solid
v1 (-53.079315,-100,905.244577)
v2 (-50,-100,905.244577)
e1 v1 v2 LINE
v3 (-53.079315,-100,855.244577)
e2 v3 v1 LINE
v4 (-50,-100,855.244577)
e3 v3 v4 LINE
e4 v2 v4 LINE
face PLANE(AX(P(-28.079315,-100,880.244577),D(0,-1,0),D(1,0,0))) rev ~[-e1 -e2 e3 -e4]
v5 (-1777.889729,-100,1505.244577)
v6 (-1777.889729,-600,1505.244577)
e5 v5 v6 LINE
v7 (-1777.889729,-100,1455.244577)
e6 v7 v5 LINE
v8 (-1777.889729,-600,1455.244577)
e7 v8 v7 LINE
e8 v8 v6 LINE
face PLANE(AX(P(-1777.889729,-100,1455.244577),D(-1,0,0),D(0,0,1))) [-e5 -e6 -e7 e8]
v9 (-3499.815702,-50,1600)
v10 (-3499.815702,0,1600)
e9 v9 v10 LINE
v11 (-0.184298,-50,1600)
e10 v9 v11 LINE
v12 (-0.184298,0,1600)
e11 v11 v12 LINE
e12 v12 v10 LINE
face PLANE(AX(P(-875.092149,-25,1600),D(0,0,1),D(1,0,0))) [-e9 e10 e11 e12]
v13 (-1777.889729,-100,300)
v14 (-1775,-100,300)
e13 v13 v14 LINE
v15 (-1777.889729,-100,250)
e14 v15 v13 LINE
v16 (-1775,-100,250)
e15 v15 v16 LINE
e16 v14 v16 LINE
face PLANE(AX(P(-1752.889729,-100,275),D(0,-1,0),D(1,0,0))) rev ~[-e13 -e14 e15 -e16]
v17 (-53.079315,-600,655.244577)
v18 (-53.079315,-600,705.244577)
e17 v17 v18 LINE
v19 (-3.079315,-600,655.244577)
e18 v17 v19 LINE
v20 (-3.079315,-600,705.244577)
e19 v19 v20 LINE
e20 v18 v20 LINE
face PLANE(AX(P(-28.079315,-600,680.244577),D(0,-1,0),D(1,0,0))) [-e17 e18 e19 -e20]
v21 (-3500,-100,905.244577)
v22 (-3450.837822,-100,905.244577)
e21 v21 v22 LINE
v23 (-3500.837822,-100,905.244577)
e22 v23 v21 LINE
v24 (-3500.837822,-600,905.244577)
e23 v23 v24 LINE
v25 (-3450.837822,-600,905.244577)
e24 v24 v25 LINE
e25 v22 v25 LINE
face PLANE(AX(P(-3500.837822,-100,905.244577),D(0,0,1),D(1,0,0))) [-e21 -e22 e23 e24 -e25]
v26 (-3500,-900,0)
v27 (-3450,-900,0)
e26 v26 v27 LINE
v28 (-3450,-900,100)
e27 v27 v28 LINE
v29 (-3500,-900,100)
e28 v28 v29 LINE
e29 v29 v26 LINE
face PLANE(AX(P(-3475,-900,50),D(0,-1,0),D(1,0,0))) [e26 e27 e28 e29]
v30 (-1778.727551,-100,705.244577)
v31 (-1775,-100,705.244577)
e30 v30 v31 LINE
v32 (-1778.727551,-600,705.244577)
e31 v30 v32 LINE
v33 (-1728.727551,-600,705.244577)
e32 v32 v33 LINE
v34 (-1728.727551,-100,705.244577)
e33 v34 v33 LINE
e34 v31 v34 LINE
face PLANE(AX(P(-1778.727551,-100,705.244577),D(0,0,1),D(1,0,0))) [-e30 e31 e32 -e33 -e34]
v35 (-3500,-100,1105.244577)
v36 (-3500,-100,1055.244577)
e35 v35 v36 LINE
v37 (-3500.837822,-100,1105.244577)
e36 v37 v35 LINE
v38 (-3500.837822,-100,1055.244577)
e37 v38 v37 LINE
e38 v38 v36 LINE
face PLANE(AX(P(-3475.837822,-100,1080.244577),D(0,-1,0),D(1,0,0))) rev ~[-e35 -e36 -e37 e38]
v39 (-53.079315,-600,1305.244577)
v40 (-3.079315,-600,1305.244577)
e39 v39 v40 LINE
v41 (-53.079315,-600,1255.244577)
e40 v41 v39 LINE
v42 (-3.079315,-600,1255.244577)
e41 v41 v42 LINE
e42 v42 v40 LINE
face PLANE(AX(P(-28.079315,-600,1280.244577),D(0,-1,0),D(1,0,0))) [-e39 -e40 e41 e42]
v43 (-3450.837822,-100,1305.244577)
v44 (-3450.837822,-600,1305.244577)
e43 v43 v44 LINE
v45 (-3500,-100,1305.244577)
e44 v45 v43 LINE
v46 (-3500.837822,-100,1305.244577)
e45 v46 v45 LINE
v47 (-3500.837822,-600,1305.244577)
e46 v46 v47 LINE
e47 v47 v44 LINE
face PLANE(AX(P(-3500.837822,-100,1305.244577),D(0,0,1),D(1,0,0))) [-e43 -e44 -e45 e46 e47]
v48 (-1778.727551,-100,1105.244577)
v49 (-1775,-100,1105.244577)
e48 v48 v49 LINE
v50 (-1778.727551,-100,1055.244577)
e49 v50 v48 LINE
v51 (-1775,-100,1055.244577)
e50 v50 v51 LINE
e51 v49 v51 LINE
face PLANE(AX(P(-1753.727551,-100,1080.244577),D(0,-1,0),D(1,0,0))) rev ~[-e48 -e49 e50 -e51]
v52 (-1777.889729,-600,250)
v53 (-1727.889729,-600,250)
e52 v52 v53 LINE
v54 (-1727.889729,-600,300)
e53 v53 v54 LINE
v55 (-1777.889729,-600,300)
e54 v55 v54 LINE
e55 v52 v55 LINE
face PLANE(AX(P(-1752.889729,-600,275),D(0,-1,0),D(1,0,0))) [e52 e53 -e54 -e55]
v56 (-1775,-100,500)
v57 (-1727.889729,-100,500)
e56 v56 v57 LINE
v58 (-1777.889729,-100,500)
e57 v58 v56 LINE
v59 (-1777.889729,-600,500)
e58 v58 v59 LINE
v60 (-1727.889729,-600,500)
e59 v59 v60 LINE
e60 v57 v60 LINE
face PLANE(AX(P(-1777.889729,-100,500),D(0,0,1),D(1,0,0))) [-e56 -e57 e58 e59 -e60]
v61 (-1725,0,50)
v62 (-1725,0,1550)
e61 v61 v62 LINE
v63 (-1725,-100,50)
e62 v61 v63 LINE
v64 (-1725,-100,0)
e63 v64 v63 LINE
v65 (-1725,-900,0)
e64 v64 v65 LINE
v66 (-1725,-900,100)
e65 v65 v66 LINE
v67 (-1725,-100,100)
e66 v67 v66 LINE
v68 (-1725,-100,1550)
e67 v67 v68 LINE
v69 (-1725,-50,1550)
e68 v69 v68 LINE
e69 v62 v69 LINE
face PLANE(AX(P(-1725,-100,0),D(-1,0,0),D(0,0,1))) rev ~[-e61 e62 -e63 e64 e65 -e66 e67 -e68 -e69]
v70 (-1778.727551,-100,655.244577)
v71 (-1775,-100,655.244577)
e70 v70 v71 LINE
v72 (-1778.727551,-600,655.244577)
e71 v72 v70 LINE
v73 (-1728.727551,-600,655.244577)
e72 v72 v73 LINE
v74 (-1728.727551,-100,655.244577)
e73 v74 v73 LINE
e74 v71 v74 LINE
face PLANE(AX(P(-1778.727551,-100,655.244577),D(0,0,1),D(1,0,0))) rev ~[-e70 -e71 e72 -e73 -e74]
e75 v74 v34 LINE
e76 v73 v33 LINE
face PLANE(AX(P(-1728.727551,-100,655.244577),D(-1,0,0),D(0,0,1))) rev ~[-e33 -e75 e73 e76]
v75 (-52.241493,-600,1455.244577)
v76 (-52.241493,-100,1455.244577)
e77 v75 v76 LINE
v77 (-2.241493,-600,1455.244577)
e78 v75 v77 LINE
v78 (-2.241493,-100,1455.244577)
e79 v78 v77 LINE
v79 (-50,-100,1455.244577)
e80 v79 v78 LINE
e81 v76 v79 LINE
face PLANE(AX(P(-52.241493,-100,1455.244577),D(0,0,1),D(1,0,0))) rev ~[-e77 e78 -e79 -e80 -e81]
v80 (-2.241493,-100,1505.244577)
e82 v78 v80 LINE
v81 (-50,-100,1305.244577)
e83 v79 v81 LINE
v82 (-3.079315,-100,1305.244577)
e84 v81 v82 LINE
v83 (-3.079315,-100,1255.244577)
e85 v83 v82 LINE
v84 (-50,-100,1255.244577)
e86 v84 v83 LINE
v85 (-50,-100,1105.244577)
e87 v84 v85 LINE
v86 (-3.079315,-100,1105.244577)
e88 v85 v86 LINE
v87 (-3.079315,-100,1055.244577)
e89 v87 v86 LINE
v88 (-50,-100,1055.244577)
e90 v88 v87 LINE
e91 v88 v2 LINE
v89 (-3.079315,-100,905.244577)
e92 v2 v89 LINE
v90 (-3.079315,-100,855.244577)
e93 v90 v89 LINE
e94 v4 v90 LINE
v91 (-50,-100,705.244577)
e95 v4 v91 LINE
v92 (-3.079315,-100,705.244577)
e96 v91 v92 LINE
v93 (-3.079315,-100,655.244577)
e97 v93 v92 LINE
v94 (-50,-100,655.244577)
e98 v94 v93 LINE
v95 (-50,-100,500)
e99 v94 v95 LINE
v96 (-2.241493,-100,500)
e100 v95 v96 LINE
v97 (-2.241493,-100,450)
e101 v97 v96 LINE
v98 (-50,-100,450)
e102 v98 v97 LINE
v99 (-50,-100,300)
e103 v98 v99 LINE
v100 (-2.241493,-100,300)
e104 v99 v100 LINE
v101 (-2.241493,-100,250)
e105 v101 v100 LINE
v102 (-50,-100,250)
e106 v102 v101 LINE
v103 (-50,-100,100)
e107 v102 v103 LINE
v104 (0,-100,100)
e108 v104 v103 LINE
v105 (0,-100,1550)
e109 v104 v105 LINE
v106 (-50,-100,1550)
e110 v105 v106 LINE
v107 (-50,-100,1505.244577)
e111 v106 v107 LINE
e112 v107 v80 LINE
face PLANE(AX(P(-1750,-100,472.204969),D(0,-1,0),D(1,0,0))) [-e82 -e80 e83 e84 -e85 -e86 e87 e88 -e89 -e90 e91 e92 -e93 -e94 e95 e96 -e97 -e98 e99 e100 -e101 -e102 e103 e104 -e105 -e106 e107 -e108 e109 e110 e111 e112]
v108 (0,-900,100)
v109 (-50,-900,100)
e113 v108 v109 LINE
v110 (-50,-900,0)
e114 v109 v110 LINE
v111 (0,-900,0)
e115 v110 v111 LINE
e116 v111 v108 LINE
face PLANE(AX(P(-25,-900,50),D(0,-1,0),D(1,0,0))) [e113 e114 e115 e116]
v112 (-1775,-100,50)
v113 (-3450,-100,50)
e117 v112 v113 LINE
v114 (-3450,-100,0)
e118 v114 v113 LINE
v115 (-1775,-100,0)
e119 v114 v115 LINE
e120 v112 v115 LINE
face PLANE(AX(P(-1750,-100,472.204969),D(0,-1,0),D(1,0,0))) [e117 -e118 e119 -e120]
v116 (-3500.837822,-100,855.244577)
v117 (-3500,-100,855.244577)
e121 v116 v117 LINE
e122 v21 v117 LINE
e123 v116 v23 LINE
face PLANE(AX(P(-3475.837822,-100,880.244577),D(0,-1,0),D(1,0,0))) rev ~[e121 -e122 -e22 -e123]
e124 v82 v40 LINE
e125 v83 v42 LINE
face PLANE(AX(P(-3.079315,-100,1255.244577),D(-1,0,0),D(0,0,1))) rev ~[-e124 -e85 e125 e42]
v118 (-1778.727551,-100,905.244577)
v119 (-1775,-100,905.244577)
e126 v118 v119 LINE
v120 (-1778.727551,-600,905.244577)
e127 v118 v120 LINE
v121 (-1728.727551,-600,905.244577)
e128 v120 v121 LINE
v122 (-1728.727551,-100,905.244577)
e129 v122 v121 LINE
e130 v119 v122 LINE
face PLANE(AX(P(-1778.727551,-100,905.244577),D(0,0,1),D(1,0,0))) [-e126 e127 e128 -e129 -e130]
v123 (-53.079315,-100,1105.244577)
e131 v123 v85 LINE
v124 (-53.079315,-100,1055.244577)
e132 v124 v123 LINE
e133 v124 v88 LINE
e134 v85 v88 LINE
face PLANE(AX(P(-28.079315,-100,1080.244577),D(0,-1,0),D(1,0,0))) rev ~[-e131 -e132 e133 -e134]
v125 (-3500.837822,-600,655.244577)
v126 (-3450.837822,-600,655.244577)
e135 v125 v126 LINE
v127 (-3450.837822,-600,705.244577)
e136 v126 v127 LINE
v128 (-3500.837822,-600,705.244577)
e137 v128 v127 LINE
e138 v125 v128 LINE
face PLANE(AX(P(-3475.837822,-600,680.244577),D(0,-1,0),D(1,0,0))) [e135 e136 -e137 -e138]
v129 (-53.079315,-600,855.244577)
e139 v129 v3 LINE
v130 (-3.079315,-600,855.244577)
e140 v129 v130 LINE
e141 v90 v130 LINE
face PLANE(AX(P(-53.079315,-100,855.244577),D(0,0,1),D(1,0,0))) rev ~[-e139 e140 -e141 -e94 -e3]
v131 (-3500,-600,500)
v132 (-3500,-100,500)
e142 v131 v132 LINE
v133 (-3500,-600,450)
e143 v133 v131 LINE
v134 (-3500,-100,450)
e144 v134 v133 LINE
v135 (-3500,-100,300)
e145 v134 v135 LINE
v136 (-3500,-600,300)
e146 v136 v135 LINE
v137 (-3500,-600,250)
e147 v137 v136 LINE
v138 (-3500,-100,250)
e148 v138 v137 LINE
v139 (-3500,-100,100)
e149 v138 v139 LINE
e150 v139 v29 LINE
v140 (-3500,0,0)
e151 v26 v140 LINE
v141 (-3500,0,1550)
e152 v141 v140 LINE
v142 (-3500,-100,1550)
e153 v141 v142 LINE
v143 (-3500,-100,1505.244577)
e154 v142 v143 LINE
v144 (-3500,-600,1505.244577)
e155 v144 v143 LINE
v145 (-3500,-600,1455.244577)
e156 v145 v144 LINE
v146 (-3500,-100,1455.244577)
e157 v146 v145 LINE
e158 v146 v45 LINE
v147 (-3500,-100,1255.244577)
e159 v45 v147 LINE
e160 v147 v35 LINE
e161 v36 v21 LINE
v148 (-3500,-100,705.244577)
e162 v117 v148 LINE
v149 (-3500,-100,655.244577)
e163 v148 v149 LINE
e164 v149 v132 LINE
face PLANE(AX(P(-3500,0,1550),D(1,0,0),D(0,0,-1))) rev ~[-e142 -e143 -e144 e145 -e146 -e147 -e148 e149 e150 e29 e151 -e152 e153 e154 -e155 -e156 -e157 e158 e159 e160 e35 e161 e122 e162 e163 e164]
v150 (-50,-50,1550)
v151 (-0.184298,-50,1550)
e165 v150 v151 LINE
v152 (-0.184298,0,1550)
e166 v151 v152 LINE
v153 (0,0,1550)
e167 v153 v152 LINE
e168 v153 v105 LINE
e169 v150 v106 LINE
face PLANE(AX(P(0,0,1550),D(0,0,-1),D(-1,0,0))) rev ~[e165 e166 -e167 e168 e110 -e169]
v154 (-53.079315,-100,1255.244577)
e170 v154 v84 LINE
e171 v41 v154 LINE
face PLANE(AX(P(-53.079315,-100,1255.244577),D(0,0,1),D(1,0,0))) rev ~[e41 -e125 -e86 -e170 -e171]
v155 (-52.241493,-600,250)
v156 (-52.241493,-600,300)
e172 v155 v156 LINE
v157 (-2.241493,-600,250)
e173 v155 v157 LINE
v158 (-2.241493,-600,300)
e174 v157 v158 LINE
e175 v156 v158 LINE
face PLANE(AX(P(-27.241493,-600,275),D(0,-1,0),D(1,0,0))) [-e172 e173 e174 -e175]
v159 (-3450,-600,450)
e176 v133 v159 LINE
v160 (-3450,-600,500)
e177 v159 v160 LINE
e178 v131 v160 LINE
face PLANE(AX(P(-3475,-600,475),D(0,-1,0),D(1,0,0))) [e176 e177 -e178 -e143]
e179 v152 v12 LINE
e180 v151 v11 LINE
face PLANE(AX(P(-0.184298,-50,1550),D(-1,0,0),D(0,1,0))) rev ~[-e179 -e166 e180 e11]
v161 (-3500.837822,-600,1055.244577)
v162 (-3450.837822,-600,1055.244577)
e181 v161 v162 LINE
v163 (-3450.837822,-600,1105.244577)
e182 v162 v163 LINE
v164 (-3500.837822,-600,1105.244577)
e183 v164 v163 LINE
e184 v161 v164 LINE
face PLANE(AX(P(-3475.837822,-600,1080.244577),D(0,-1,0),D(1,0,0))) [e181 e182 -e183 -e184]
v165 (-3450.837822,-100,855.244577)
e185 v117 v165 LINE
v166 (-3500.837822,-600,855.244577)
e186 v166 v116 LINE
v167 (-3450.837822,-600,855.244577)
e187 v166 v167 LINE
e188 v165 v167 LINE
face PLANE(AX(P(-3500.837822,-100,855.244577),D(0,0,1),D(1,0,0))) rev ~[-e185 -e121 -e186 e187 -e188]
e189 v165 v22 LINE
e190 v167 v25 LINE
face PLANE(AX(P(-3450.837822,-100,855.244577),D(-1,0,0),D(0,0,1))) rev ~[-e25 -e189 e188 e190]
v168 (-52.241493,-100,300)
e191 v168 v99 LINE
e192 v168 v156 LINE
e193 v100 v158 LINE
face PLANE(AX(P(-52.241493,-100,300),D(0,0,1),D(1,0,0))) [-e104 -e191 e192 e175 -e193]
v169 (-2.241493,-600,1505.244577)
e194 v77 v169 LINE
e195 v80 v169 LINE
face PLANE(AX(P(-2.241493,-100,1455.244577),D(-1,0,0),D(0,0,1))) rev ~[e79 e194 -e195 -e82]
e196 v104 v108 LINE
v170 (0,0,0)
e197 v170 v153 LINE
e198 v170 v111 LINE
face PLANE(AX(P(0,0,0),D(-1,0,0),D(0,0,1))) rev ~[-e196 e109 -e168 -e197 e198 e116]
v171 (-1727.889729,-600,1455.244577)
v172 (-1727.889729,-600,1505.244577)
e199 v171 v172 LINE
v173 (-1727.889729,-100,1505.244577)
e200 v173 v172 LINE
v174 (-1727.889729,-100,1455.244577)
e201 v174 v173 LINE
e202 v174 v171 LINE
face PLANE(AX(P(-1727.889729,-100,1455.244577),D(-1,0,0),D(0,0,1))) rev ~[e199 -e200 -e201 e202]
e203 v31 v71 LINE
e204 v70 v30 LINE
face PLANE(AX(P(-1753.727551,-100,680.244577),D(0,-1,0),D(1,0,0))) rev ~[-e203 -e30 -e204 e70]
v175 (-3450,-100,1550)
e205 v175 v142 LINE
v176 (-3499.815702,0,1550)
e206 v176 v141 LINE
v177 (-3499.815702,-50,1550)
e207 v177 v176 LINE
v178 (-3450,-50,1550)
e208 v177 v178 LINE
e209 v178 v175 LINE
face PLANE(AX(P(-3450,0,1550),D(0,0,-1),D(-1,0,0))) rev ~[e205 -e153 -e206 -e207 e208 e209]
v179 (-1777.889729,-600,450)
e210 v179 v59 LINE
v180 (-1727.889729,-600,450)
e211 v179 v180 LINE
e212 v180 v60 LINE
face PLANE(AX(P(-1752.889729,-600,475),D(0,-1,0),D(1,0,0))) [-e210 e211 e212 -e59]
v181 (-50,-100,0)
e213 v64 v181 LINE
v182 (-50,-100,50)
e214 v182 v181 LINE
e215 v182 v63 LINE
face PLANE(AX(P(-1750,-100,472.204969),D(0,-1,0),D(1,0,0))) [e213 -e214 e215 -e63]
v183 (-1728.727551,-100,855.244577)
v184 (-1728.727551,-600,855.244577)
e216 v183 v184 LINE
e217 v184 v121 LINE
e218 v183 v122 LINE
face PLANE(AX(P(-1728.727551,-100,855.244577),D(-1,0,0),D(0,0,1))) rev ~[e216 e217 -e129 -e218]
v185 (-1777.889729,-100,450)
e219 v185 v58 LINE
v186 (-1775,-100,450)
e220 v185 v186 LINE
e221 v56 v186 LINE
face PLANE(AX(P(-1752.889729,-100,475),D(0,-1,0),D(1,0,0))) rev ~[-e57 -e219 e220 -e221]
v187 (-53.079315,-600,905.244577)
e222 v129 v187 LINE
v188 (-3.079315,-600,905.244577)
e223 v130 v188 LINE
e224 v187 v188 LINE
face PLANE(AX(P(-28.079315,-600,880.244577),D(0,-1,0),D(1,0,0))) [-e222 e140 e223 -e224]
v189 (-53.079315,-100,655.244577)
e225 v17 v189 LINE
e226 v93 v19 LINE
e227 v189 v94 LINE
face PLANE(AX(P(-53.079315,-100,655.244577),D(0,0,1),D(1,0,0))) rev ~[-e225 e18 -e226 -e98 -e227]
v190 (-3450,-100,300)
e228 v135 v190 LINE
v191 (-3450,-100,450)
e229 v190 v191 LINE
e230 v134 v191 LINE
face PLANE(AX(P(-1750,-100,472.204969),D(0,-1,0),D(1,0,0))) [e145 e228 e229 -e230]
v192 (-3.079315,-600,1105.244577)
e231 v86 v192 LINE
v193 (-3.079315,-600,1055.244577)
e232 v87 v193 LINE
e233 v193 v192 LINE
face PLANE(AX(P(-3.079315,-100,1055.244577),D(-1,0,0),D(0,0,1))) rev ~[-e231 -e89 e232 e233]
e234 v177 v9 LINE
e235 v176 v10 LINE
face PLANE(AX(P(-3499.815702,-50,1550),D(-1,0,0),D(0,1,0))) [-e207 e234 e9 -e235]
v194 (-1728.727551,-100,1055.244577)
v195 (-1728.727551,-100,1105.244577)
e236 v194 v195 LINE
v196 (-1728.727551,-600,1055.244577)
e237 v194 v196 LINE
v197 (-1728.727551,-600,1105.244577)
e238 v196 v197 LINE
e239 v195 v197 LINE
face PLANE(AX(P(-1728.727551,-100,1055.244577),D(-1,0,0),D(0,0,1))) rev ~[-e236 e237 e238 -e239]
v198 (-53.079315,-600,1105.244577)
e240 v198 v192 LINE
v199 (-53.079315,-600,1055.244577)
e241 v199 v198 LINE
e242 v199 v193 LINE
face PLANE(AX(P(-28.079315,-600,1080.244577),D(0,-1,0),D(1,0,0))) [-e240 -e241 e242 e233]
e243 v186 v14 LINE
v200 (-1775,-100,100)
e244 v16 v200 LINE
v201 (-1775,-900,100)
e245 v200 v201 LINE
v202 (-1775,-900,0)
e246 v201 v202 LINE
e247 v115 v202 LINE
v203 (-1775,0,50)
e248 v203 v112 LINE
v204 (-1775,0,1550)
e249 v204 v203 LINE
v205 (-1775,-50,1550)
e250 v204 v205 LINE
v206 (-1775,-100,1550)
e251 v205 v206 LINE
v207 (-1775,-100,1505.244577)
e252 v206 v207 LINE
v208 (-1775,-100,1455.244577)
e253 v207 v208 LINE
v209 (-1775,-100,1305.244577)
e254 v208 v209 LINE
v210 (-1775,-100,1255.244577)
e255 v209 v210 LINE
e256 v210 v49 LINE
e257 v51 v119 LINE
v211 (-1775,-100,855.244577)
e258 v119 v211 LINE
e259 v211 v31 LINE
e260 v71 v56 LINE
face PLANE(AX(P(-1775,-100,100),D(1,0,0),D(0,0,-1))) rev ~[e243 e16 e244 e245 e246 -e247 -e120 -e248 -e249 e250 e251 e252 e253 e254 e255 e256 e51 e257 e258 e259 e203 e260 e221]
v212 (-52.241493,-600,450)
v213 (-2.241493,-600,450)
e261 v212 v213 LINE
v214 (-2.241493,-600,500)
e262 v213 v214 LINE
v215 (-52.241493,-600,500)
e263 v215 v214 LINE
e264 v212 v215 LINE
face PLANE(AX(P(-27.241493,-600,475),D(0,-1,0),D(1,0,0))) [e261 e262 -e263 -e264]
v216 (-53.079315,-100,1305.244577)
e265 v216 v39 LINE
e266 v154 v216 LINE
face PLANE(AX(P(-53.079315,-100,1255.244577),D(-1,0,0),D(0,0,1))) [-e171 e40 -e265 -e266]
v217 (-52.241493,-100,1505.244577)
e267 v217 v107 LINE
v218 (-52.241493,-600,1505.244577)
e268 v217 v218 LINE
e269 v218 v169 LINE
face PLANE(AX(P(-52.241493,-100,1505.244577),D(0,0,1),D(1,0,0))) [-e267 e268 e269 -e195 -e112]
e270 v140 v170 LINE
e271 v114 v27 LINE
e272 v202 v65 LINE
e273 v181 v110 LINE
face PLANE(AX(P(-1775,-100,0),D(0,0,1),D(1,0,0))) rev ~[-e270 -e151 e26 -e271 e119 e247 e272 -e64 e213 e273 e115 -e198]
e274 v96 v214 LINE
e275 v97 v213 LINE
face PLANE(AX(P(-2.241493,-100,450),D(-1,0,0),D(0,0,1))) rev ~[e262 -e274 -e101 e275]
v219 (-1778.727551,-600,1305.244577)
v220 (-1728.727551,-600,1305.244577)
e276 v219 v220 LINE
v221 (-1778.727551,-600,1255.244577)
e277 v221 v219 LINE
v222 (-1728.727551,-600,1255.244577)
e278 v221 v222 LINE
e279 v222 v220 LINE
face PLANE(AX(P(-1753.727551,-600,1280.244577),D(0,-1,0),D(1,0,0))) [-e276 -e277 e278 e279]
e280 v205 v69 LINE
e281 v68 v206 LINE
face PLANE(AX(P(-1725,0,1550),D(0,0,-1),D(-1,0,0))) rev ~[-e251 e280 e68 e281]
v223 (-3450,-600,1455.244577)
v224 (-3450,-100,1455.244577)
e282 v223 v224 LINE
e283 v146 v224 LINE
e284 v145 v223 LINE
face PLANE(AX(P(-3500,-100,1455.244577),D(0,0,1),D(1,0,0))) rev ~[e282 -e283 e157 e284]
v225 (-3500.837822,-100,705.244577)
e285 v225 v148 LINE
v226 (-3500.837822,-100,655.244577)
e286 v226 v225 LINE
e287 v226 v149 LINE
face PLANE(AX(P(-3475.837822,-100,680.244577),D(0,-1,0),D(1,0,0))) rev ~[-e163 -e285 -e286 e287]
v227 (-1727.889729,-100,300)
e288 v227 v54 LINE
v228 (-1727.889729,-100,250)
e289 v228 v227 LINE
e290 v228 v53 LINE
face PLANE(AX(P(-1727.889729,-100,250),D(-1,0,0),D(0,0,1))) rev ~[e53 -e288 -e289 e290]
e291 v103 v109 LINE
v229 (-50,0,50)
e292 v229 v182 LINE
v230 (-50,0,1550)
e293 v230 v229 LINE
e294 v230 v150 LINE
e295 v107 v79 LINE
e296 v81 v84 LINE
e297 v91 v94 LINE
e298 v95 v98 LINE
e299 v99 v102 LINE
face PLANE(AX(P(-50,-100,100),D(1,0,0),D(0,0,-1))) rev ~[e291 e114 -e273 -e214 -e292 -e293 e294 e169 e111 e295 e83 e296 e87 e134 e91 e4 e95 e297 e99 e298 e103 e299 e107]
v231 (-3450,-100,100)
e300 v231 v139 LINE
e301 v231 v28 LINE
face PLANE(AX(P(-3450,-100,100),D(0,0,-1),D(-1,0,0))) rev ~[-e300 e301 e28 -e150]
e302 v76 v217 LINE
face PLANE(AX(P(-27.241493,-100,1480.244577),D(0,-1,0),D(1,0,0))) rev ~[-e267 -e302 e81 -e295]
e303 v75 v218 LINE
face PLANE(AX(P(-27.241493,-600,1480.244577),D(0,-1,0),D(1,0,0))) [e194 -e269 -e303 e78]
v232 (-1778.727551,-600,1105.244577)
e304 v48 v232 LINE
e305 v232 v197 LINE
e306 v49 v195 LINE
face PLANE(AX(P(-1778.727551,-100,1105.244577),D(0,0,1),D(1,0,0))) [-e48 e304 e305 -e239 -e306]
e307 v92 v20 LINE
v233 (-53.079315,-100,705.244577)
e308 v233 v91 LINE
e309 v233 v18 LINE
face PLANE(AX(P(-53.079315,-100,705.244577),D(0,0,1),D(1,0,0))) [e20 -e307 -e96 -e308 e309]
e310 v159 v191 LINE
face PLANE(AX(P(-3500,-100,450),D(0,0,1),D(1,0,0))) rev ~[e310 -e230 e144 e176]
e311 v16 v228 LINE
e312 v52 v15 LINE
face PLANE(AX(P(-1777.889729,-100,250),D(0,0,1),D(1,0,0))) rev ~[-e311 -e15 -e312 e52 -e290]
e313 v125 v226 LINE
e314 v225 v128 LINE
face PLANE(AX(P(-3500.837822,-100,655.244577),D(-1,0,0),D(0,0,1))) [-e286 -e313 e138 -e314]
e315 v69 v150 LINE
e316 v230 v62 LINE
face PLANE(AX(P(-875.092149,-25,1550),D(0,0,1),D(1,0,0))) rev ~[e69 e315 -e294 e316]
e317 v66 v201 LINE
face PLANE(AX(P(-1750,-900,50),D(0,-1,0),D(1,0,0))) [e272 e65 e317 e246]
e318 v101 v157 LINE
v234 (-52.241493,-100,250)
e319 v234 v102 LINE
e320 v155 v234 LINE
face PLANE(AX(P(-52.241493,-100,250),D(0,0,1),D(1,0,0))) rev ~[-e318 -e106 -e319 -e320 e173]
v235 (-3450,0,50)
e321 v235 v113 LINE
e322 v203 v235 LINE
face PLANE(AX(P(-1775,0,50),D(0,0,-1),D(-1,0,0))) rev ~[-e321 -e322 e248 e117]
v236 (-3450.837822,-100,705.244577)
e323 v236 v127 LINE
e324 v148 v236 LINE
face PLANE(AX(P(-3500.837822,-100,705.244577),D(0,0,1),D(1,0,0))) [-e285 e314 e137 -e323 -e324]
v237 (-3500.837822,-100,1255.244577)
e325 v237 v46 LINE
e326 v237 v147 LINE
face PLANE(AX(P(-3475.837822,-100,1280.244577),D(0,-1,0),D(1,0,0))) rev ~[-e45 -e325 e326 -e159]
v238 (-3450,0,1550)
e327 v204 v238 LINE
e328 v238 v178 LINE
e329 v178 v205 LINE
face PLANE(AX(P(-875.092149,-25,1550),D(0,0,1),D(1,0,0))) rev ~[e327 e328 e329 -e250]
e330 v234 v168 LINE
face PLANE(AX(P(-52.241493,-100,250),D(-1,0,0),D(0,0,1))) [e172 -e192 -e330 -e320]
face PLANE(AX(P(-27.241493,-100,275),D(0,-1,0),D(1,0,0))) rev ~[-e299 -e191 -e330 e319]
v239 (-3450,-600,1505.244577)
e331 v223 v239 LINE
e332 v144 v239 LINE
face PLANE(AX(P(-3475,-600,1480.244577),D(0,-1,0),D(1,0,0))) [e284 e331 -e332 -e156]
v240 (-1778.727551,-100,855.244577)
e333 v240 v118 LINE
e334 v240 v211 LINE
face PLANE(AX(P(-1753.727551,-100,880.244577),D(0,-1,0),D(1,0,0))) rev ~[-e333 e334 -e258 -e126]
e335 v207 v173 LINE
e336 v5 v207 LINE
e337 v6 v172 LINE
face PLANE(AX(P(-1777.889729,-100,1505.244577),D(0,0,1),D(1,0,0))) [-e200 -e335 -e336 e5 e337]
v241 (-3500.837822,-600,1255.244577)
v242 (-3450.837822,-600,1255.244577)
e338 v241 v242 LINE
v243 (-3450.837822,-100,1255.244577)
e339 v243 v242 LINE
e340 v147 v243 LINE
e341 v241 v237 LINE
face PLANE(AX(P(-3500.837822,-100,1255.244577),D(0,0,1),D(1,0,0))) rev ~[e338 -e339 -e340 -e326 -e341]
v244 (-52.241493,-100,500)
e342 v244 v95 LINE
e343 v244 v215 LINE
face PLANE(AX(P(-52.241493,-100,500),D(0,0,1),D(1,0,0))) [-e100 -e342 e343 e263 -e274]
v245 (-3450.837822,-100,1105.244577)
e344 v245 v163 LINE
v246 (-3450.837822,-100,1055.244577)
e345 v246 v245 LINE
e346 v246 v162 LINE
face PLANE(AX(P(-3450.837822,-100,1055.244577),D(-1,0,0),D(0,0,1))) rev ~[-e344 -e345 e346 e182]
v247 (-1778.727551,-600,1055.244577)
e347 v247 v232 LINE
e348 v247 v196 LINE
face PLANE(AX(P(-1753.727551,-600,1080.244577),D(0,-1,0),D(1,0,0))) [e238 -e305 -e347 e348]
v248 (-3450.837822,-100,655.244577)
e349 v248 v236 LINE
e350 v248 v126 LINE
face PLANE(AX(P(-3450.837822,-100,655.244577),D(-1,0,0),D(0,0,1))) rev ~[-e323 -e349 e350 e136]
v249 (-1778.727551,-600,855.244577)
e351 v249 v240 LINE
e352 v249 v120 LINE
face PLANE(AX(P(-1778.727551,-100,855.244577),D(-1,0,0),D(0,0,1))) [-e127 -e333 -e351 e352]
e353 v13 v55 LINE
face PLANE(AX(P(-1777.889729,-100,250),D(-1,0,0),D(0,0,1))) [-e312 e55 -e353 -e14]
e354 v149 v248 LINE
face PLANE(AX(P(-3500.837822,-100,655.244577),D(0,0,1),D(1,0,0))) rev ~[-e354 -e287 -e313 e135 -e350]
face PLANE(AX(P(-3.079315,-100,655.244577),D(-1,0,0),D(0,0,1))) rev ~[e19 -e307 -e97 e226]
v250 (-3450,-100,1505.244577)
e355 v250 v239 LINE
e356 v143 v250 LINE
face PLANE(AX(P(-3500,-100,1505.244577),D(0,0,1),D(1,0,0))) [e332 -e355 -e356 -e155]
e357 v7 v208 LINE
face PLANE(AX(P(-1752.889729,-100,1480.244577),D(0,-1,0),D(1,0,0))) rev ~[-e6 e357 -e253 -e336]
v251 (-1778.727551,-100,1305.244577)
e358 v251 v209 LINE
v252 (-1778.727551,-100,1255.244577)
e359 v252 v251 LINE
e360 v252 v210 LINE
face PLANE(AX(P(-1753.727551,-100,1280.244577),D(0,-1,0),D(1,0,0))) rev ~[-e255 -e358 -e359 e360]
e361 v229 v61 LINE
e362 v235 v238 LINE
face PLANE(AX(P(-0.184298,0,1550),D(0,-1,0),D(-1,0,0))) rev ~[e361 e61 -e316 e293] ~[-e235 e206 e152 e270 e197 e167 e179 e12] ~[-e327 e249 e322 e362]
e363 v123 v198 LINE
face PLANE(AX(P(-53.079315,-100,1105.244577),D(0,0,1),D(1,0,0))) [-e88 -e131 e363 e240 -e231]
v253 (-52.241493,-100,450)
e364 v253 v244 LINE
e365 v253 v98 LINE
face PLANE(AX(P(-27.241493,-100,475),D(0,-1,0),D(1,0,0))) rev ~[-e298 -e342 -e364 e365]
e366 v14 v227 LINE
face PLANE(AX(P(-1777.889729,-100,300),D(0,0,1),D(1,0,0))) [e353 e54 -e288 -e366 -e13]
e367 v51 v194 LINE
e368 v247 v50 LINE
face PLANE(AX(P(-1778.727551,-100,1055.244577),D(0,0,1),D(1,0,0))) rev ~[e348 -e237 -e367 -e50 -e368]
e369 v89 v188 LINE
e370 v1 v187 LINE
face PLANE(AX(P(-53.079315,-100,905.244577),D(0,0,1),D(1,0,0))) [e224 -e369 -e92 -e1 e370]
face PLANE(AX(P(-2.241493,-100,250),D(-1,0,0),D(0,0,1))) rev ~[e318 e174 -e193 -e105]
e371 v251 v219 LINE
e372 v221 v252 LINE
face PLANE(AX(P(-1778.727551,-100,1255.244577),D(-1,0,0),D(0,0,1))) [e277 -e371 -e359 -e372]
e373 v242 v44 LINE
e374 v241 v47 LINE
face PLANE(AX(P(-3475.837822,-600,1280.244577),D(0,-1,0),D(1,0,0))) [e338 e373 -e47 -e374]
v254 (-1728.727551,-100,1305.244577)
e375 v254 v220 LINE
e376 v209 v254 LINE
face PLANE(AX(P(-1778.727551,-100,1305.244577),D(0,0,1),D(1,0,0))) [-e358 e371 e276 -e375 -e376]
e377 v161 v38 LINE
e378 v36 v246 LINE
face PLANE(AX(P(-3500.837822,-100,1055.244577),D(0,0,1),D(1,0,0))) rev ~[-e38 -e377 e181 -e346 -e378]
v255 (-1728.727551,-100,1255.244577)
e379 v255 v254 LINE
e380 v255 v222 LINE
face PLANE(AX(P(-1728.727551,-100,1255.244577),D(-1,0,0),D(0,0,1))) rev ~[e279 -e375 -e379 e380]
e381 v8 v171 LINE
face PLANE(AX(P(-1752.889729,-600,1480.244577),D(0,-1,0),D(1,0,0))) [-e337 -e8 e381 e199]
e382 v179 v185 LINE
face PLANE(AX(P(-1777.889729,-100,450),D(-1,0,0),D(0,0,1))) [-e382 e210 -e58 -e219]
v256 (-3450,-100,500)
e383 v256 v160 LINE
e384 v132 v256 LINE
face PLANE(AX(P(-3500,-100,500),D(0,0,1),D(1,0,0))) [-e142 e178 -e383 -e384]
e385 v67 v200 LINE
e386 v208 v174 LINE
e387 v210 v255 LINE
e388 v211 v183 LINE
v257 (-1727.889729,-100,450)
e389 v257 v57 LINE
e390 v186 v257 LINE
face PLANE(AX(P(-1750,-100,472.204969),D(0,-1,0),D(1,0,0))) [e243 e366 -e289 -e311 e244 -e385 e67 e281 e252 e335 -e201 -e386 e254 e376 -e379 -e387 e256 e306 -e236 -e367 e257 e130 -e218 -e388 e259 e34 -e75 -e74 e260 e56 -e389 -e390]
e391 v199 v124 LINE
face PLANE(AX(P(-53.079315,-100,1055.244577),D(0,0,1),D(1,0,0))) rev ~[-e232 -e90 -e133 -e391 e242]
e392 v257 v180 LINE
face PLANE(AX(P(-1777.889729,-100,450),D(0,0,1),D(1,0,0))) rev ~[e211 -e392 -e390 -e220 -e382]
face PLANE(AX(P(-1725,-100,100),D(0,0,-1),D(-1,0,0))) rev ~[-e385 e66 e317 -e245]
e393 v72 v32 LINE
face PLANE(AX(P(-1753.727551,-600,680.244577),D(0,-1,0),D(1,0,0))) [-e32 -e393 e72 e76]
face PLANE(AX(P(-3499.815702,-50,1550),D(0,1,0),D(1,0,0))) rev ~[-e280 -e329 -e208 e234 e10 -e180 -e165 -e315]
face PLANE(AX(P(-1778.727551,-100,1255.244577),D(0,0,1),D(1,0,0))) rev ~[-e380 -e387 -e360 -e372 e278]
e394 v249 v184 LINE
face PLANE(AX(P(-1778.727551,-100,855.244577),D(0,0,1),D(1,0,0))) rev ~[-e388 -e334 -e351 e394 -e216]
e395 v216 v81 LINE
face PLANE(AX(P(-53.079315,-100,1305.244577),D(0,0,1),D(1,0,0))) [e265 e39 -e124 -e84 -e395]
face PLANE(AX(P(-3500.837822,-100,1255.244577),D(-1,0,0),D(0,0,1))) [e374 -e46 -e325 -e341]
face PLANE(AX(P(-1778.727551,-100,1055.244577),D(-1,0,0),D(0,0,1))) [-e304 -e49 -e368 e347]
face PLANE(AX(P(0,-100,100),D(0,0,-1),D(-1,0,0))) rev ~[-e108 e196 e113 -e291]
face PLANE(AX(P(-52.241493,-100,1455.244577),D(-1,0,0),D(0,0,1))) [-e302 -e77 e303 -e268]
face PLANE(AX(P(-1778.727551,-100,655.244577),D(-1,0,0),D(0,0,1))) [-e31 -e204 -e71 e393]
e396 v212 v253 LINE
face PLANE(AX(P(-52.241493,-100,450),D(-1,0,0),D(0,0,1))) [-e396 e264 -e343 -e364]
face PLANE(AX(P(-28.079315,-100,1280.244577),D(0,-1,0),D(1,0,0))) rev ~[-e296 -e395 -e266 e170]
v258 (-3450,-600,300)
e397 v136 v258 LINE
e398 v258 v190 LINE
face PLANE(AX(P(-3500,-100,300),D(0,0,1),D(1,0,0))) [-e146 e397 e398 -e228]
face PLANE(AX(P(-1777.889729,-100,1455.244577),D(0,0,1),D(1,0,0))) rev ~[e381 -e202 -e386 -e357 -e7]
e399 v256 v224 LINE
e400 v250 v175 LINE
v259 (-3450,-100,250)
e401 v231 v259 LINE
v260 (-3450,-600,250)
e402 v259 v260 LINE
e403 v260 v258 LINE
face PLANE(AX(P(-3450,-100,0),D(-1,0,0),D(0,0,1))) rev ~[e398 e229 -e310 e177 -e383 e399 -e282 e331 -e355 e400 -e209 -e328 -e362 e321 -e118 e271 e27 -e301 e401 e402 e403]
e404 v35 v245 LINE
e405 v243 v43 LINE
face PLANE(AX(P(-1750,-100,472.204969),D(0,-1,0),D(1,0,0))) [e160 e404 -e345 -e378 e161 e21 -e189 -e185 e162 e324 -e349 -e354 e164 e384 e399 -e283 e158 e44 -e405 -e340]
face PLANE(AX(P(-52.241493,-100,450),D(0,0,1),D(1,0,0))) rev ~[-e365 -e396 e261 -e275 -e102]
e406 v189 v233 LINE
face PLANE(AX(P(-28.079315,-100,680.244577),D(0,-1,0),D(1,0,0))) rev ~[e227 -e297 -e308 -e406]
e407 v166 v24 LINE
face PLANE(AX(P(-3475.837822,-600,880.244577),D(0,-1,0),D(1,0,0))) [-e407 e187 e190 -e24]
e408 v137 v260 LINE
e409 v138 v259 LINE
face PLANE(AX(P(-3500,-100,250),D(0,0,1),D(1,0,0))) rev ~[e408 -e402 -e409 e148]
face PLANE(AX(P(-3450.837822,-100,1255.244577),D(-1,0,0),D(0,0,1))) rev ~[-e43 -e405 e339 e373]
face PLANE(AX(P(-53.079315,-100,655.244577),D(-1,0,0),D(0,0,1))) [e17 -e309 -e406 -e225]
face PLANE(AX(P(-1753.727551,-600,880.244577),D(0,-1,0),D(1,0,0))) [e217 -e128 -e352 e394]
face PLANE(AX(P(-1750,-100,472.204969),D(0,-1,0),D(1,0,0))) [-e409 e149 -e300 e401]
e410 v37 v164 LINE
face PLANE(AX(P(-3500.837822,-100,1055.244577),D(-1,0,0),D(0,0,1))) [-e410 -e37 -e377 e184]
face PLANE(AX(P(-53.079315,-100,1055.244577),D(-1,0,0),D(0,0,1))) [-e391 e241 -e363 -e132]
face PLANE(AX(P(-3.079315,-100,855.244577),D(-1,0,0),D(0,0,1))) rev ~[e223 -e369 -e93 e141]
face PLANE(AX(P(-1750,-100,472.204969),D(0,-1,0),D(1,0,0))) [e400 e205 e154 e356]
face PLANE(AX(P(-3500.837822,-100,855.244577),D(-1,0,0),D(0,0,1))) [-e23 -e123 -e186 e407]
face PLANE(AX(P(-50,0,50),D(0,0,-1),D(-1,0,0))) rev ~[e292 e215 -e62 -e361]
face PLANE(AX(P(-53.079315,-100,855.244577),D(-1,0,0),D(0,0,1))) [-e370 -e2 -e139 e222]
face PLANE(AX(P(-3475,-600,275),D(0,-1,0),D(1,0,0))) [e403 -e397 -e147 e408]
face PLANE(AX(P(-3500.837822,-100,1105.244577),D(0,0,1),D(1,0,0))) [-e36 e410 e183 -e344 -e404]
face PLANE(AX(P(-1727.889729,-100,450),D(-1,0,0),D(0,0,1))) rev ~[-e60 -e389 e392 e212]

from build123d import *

# Parameters (mm, degrees)
F1_DEPTH = 100
F3_DEPTH = 800
F4_W     = 1749.815702
F4_H     = 50
F5_DEPTH = 50
F6_W     = 50
F6_H     = 50
F7_DEPTH = 500
F8_DEPTH = 25


with BuildPart() as f1:
    # F0 (on Front) → F1 (new body)
    with BuildSketch(Plane.XZ):
        Polygon((-3500, 0), (0, 0), (0, 1550), (-50, 1550), (-50, 50), (-1725, 50), (-1725, 1550), (-1775, 1550), (-1775, 50), (-3450, 50), (-3450, 1550), (-3500, 1550), align=None)
    extrude(amount=F1_DEPTH)

    # F2 (on face) → F3 (join)
    with BuildSketch(Plane.XZ.offset(100)):
        Polygon((-1775, 50), (-1775, 0), (-1725, 0), (-1725, 50), (-1725, 100), (-1775, 100), align=None)
        Polygon((-3500, 100), (-3500, 0), (-3450, 0), (-3450, 50), (-3450, 100), align=None)
        Polygon((-50, 50), (-50, 0), (0, 0), (0, 100), (-50, 100), align=None)
    extrude(amount=F3_DEPTH)

    # F4 (on face) → F5 (join)
    with BuildSketch(Plane.XY.offset(1550)):
        with Locations((-875.092149, -25)):
            Rectangle(F4_W, F4_H)
        with Locations((-2624.907851, -25)):
            Rectangle(F4_W, F4_H)
    extrude(amount=F5_DEPTH)

    # F6 (on face) → F7 (join)
    with BuildSketch(Plane.XZ.offset(100)):
        with Locations((-3475, 275)):
            Rectangle(F6_W, F6_H)
        with Locations((-3475, 475)):
            Rectangle(F6_W, F6_H)
        with Locations((-3475.837822, 680.244577)):
            Rectangle(F6_W, F6_H)
        with Locations((-3475.837822, 880.244577)):
            Rectangle(F6_W, F6_H)
        with Locations((-3475.837822, 1080.244577)):
            Rectangle(F6_W, F6_H)
        with Locations((-3475.837822, 1280.244577)):
            Rectangle(F6_W, F6_H)
        with Locations((-3475, 1480.244577)):
            Rectangle(F6_W, F6_H)
        with Locations((-1752.889729, 275)):
            Rectangle(F6_W, F6_H)
        with Locations((-1752.889729, 475)):
            Rectangle(F6_W, F6_H)
        with Locations((-1753.727551, 680.244577)):
            Rectangle(F6_W, F6_H)
        with Locations((-1753.727551, 880.244577)):
            Rectangle(F6_W, F6_H)
        with Locations((-1753.727551, 1080.244577)):
            Rectangle(F6_W, F6_H)
        with Locations((-1753.727551, 1280.244577)):
            Rectangle(F6_W, F6_H)
        with Locations((-1752.889729, 1480.244577)):
            Rectangle(F6_W, F6_H)
        with Locations((-27.241493, 275)):
            Rectangle(F6_W, F6_H)
        with Locations((-27.241493, 475)):
            Rectangle(F6_W, F6_H)
        with Locations((-28.079315, 680.244577)):
            Rectangle(F6_W, F6_H)
        with Locations((-28.079315, 880.244577)):
            Rectangle(F6_W, F6_H)
        with Locations((-28.079315, 1080.244577)):
            Rectangle(F6_W, F6_H)
        with Locations((-28.079315, 1280.244577)):
            Rectangle(F6_W, F6_H)
        with Locations((-27.241493, 1480.244577)):
            Rectangle(F6_W, F6_H)
    extrude(amount=F7_DEPTH)

    # F6 (on face) → F8 (join)
    with BuildSketch(Plane.XZ.offset(100)):
        with Locations((-3475, 275)):
            Rectangle(F6_W, F6_H)
        with Locations((-3475, 475)):
            Rectangle(F6_W, F6_H)
        with Locations((-3475.837822, 680.244577)):
            Rectangle(F6_W, F6_H)
        with Locations((-3475.837822, 880.244577)):
            Rectangle(F6_W, F6_H)
        with Locations((-3475.837822, 1080.244577)):
            Rectangle(F6_W, F6_H)
        with Locations((-3475.837822, 1280.244577)):
            Rectangle(F6_W, F6_H)
        with Locations((-3475, 1480.244577)):
            Rectangle(F6_W, F6_H)
        with Locations((-1752.889729, 275)):
            Rectangle(F6_W, F6_H)
        with Locations((-1752.889729, 475)):
            Rectangle(F6_W, F6_H)
        with Locations((-1753.727551, 680.244577)):
            Rectangle(F6_W, F6_H)
        with Locations((-1753.727551, 880.244577)):
            Rectangle(F6_W, F6_H)
        with Locations((-1753.727551, 1080.244577)):
            Rectangle(F6_W, F6_H)
        with Locations((-1753.727551, 1280.244577)):
            Rectangle(F6_W, F6_H)
        with Locations((-1752.889729, 1480.244577)):
            Rectangle(F6_W, F6_H)
        with Locations((-27.241493, 275)):
            Rectangle(F6_W, F6_H)
        with Locations((-27.241493, 475)):
            Rectangle(F6_W, F6_H)
        with Locations((-28.079315, 680.244577)):
            Rectangle(F6_W, F6_H)
        with Locations((-28.079315, 880.244577)):
            Rectangle(F6_W, F6_H)
        with Locations((-28.079315, 1080.244577)):
            Rectangle(F6_W, F6_H)
        with Locations((-28.079315, 1280.244577)):
            Rectangle(F6_W, F6_H)
        with Locations((-27.241493, 1480.244577)):
            Rectangle(F6_W, F6_H)
    extrude(amount=F8_DEPTH)


solid = f1.part
